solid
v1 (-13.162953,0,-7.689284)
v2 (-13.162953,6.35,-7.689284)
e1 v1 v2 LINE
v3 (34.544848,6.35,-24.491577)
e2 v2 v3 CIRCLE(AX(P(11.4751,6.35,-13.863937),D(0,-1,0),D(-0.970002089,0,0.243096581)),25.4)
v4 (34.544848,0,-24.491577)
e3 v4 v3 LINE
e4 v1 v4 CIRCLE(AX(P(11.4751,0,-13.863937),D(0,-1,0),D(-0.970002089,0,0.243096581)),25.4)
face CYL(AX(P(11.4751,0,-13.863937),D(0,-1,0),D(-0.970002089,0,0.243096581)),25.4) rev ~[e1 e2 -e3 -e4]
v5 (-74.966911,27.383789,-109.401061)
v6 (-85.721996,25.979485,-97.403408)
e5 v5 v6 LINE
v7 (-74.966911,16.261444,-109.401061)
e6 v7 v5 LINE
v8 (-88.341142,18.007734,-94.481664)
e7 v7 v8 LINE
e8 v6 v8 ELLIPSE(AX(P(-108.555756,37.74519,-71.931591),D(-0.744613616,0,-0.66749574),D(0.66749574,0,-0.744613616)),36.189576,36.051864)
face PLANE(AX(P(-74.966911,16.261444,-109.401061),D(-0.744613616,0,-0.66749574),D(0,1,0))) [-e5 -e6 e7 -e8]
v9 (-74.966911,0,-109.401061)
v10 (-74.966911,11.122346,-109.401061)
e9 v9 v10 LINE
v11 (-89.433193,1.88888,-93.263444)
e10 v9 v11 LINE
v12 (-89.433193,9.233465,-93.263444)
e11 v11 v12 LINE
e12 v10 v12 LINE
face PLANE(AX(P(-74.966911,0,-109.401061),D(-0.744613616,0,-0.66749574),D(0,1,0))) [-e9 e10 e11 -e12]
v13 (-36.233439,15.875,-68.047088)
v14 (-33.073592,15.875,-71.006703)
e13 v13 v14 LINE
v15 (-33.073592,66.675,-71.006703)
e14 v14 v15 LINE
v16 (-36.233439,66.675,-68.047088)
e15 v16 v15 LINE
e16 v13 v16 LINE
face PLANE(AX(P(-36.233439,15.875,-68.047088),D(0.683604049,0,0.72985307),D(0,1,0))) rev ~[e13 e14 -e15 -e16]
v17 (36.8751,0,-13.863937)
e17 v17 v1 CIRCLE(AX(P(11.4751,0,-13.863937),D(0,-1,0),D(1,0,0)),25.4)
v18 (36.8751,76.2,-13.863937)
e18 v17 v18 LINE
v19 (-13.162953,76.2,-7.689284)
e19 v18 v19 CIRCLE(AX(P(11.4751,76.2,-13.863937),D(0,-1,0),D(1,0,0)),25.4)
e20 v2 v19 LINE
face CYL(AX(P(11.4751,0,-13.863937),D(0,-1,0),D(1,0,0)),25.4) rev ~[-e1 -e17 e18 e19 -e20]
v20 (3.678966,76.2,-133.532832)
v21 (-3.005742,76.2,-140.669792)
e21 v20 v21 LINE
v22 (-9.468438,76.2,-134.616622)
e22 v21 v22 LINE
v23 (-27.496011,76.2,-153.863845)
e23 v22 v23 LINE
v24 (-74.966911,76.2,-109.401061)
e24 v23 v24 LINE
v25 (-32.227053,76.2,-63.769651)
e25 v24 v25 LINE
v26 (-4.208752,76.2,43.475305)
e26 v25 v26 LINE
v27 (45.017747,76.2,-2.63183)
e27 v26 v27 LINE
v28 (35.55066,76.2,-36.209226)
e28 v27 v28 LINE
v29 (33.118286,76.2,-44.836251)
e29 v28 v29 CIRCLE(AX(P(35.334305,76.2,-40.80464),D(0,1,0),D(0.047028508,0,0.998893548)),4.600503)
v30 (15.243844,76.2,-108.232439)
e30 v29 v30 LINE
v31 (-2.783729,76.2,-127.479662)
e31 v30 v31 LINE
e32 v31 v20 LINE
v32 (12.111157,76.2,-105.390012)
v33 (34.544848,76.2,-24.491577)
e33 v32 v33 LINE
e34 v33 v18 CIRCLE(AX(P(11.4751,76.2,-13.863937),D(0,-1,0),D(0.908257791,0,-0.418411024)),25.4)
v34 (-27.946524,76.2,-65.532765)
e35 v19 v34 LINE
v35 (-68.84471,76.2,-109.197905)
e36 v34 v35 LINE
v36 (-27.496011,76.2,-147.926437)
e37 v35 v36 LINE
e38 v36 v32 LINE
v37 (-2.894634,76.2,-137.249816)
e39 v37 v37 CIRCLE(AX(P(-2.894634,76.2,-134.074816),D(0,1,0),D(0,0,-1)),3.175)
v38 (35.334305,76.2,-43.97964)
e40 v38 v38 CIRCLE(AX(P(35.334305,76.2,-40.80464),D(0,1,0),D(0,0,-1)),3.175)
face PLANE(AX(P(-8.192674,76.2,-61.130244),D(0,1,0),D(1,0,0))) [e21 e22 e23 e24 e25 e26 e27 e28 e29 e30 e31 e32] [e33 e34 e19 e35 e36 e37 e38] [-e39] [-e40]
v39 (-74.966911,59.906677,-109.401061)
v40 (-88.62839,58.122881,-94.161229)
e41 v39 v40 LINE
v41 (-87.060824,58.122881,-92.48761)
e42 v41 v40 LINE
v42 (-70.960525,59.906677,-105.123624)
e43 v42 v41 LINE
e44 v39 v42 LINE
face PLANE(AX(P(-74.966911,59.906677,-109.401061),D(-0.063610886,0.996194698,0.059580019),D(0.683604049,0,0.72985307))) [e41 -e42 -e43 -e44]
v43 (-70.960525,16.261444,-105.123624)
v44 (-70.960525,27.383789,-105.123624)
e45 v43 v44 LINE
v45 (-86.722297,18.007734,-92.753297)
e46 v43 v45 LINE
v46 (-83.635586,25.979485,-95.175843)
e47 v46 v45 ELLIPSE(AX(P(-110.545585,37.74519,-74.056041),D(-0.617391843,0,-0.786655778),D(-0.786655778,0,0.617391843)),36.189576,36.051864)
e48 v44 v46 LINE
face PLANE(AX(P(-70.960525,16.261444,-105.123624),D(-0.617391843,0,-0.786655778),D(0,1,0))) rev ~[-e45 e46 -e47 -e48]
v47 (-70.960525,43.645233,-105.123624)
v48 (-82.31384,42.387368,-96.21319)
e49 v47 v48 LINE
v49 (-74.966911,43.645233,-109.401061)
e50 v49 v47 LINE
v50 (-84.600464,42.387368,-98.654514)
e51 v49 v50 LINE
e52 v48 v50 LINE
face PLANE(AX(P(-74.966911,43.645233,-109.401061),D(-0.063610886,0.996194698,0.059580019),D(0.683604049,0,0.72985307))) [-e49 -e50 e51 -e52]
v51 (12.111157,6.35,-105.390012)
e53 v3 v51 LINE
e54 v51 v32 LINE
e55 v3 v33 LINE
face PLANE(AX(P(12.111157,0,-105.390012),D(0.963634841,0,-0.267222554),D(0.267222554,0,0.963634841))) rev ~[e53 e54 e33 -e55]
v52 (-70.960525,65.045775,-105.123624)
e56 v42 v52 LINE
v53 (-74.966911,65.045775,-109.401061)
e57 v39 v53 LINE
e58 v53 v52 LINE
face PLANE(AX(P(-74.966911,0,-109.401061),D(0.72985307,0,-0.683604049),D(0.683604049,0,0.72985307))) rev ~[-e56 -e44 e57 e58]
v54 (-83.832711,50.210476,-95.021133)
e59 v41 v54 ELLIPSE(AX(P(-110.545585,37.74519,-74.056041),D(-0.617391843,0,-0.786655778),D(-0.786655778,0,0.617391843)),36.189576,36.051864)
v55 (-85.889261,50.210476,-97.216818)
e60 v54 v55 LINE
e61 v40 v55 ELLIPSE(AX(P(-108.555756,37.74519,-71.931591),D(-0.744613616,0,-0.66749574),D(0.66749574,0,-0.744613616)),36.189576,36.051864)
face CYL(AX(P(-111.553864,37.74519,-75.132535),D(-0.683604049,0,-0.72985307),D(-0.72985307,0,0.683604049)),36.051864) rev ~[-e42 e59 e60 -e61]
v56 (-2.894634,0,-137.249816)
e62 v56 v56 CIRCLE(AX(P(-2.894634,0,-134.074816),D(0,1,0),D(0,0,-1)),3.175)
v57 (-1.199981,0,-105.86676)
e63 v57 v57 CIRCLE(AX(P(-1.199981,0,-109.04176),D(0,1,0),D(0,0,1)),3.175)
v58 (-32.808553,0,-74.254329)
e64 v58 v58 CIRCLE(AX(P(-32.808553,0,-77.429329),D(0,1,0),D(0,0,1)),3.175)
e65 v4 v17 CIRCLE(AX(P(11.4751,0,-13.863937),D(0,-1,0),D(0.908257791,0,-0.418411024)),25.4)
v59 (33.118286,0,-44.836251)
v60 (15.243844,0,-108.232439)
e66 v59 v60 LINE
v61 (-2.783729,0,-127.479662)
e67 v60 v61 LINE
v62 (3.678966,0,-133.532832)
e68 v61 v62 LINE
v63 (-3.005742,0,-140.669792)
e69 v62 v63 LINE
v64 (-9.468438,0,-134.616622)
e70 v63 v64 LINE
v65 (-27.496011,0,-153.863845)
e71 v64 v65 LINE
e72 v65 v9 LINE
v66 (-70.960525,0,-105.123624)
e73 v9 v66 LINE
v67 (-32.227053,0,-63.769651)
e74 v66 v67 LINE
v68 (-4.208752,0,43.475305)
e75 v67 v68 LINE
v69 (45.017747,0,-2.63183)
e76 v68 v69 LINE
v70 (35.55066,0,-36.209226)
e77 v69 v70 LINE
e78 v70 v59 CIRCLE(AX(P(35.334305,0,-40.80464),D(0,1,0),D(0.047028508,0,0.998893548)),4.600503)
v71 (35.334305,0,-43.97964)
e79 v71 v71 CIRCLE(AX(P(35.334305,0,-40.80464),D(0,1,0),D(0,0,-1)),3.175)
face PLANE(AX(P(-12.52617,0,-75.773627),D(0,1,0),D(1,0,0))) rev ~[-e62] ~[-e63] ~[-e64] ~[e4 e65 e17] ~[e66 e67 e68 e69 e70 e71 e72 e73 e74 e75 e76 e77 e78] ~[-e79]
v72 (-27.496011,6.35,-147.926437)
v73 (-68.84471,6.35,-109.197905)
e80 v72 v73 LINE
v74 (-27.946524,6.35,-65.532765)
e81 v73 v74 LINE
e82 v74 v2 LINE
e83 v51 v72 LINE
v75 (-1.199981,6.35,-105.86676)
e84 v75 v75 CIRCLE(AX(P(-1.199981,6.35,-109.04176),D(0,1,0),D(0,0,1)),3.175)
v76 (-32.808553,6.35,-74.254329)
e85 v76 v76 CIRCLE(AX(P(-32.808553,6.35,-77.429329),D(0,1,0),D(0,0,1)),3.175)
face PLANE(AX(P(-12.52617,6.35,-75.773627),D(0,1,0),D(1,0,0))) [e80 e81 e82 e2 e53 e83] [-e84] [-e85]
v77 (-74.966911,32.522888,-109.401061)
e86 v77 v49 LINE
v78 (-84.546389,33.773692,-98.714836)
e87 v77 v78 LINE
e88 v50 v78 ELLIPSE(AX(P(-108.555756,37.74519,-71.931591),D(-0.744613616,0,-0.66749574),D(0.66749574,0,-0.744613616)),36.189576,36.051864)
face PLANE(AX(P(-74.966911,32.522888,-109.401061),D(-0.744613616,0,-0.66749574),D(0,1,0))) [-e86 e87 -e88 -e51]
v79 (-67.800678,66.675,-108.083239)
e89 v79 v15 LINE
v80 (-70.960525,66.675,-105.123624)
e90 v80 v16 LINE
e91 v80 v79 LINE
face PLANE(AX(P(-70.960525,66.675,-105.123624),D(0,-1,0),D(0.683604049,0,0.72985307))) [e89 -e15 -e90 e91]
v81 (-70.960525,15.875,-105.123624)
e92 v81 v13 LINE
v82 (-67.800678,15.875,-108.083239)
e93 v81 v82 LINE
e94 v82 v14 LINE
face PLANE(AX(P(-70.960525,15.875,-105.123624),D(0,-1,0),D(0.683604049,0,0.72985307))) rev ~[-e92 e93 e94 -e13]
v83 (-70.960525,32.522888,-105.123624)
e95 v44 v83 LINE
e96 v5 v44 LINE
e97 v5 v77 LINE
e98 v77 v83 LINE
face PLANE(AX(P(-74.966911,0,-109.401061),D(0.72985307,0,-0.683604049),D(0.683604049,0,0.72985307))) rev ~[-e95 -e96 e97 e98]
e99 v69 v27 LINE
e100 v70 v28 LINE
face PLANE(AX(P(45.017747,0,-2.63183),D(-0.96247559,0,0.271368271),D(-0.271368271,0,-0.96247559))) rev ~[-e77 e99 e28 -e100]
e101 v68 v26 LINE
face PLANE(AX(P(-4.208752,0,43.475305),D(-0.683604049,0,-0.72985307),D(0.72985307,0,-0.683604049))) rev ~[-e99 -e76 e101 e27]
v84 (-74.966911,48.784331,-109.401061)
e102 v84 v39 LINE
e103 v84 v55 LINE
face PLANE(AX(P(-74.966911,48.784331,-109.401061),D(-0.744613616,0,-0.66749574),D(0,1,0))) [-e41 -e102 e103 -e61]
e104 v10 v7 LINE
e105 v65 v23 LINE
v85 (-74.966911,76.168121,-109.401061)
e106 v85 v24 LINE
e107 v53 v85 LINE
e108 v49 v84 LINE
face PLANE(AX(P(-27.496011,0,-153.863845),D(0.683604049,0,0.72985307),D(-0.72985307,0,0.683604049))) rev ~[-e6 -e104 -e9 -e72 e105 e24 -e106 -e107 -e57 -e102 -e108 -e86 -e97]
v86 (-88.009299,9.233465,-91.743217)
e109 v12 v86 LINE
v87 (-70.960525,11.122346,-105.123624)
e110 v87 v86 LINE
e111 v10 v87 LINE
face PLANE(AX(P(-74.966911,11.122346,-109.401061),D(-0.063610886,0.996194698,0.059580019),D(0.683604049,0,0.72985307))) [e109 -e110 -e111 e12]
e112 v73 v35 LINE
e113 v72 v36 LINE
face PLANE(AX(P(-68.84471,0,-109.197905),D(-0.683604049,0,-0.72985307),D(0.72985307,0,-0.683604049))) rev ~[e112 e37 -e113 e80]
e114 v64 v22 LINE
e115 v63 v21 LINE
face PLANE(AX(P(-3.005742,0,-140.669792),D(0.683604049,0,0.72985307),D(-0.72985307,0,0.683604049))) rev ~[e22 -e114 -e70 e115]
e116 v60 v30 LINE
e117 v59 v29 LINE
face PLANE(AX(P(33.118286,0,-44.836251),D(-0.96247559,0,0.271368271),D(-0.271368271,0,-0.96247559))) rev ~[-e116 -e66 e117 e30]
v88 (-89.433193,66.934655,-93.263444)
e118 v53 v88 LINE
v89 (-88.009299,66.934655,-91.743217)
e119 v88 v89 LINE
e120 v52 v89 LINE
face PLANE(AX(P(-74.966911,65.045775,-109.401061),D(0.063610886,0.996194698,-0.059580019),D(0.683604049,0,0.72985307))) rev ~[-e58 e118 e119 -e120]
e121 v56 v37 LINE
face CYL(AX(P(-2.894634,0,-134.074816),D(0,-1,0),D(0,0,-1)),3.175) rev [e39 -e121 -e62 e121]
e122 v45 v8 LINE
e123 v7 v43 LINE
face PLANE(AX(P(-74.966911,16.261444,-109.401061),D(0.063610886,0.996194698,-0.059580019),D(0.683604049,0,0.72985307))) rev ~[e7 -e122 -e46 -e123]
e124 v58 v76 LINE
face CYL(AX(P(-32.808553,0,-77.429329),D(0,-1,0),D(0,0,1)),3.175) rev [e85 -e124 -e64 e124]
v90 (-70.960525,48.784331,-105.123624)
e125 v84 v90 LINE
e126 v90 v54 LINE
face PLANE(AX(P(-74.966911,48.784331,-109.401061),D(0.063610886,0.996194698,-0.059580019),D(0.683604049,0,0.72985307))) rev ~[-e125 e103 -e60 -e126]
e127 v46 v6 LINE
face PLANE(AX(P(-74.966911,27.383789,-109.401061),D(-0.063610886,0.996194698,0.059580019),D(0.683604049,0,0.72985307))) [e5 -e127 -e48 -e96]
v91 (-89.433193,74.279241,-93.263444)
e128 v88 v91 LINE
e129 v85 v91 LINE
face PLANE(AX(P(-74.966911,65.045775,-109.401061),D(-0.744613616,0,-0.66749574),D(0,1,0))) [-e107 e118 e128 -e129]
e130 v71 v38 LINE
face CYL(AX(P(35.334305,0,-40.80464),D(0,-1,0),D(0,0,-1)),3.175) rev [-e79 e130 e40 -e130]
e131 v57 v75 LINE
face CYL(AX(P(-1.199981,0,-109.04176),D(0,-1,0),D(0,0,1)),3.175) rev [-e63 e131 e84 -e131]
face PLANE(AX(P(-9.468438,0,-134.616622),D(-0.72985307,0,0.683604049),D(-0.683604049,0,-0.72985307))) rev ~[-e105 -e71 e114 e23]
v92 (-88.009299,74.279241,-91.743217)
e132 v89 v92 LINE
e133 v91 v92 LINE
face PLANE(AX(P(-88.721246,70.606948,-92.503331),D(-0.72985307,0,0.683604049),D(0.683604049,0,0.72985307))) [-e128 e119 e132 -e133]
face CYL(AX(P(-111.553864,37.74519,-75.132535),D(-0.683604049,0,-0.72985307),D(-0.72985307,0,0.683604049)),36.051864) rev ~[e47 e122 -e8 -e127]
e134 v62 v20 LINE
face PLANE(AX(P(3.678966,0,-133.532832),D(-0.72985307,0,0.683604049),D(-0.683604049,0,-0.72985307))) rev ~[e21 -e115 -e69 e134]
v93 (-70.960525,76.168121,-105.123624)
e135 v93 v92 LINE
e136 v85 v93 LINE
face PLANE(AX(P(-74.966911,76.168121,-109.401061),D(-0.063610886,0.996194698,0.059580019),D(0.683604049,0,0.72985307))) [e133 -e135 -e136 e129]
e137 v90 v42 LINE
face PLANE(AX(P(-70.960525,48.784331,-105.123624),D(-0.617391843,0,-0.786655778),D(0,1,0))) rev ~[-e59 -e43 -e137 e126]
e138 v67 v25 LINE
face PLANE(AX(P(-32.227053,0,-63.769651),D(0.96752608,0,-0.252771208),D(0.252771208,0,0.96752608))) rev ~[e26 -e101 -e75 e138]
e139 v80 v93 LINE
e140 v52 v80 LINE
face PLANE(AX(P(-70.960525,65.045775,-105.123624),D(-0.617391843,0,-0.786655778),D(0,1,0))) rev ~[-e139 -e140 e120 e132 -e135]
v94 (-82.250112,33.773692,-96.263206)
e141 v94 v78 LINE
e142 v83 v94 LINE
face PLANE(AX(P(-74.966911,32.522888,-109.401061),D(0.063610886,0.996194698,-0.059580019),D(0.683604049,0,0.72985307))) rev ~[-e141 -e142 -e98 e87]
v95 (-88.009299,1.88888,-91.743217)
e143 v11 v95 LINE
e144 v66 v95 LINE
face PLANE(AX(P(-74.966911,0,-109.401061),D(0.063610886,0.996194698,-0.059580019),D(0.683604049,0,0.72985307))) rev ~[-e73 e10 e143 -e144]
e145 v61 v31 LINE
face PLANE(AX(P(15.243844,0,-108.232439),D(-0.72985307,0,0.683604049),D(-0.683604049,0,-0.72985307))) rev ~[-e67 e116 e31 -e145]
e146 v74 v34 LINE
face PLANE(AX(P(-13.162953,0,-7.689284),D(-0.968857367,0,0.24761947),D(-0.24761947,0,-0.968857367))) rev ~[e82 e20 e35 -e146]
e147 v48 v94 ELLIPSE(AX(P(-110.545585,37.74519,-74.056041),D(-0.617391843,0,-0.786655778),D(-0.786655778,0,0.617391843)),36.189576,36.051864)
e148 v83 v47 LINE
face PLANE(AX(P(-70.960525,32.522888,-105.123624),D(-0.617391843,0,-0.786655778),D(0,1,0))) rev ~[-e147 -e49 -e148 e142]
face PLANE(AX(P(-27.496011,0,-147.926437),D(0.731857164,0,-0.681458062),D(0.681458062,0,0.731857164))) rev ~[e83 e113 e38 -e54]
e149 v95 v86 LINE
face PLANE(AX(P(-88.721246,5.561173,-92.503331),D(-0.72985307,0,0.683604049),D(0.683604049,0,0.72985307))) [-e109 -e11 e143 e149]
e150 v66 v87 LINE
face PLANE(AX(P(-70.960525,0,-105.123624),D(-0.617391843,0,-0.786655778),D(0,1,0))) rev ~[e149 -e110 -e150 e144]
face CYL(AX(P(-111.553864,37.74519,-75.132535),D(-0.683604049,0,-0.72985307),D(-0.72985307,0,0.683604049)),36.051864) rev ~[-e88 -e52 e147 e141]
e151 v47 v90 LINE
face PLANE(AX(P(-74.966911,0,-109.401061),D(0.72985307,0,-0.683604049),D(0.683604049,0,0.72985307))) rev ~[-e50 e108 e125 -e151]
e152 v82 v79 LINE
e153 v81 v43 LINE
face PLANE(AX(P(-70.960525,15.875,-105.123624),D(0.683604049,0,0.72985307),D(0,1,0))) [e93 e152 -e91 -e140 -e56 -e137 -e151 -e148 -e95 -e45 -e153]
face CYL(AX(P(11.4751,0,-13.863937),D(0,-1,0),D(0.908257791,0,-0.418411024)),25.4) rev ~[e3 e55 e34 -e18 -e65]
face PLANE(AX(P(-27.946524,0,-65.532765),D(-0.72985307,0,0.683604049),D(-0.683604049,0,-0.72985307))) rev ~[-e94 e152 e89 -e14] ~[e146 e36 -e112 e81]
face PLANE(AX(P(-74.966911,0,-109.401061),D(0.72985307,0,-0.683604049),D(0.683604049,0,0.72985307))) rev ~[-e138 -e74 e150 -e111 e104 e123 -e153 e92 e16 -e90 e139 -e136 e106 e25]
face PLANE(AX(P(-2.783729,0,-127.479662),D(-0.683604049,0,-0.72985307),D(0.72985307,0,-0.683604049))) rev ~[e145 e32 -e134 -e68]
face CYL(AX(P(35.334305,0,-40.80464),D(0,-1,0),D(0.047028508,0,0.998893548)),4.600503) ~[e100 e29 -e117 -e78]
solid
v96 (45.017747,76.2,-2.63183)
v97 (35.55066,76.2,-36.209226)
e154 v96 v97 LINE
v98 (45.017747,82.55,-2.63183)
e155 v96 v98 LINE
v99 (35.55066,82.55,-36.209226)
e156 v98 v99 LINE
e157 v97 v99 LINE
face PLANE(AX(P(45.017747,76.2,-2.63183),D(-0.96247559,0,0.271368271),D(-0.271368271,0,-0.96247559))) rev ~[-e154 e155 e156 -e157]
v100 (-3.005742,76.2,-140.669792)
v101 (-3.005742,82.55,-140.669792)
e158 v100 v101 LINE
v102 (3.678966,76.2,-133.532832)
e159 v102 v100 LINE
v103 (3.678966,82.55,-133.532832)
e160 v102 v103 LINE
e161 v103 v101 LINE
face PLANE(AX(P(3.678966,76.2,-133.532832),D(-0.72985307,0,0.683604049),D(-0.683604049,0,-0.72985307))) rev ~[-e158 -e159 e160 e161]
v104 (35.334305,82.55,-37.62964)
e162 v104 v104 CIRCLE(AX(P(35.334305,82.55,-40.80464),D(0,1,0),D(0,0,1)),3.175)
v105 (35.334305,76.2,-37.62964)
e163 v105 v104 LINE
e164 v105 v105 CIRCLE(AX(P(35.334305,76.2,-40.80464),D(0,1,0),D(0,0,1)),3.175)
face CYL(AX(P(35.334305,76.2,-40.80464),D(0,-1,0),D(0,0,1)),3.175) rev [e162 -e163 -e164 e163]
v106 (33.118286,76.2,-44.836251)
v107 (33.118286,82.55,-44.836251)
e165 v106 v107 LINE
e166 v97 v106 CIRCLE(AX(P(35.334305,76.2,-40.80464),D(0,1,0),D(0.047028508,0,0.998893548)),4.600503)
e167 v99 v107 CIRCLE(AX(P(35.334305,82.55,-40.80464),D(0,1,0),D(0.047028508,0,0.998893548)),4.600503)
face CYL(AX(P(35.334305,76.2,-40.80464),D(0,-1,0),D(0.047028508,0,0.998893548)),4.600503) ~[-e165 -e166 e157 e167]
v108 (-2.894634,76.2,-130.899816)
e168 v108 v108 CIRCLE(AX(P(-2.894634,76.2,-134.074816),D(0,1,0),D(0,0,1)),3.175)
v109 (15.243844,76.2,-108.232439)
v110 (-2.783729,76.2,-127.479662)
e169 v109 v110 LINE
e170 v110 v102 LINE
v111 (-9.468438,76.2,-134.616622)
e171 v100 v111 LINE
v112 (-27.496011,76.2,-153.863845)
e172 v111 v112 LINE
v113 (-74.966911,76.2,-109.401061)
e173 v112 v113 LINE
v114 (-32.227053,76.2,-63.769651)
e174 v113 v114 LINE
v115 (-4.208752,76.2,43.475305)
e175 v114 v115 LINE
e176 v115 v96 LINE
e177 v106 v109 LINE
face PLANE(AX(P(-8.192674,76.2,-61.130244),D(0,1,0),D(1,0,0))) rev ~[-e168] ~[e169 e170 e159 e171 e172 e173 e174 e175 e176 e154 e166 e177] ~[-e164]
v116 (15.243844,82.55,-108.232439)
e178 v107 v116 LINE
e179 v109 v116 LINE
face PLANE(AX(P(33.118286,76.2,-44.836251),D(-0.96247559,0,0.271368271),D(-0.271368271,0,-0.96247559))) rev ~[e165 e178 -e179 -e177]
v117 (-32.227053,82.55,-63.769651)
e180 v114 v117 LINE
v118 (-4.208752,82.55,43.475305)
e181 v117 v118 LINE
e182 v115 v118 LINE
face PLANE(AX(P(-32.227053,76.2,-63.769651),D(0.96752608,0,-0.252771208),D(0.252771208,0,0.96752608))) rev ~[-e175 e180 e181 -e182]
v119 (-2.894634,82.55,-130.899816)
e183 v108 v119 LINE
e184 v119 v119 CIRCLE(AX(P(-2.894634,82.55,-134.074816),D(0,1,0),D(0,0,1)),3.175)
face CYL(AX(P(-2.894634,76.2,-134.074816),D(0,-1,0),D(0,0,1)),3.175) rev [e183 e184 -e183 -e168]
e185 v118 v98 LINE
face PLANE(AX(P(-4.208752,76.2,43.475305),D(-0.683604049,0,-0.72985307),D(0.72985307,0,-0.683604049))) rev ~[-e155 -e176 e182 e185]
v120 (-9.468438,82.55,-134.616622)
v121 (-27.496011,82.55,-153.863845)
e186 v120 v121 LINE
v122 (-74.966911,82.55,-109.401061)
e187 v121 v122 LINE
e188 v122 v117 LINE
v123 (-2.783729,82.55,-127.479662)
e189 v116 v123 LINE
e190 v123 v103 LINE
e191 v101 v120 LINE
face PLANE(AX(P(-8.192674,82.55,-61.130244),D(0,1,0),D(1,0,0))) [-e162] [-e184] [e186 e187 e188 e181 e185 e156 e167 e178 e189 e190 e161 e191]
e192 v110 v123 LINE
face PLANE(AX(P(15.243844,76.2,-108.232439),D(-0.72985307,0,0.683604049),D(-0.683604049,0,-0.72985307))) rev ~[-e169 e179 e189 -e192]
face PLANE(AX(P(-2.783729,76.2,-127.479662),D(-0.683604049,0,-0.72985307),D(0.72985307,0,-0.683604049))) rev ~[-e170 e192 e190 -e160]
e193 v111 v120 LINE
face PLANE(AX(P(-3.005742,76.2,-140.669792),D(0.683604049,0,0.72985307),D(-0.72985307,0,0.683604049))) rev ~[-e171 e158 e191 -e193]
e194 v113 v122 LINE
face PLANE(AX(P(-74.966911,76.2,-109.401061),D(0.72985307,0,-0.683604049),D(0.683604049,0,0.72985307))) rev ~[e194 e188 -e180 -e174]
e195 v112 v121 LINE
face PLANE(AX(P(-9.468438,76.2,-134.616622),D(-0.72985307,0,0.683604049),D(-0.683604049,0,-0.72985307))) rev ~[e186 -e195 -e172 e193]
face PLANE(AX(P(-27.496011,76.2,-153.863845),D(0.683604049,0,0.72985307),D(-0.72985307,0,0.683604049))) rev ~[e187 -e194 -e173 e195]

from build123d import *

# Parameters (mm, degrees)
SKETCH1_R                     = 3.175
BOSS_EXTRUDE2_DEPTH           = 76.2
SKETCH1_5_R                   = 3.175
BOSS_EXTRUDE3_DEPTH           = 6.35
SKETCH5_R                     = 3.175
BOSS_EXTRUDE4_DEPTH           = 6.35
SKETCH6_W                     = 50.8
SKETCH6_H                     = 50.8
CUT_EXTRUDE1_DEPTH            = 21.59
SKETCH7_W                     = 5.86068256
SKETCH7_H                     = 11.122345704
BOSS_EXTRUDE5_DEPTH           = 21.59
BOSS_EXTRUDE5_DRAFT           = 5
BOSS_EXTRUDE5_PROFILE_2_DEPTH = 21.59
BOSS_EXTRUDE5_PROFILE_2_DRAFT = 5
BOSS_EXTRUDE5_PROFILE_3_DEPTH = 21.59
BOSS_EXTRUDE5_PROFILE_3_DRAFT = 5
SKETCH7_H_2                   = 11.122345705
BOSS_EXTRUDE5_PROFILE_4_DEPTH = 21.59
BOSS_EXTRUDE5_PROFILE_4_DRAFT = 5
BOSS_EXTRUDE5_PROFILE_5_DEPTH = 21.59
BOSS_EXTRUDE5_PROFILE_5_DRAFT = 5
SKETCH10_R                    = 36.051864109
CUT_EXTRUDE2_DEPTH            = 21.59


with BuildPart() as part:
    # Sketch1 → Boss-Extrude2 (new body)
    with BuildSketch(Plane(origin=(0, 0, 0), x_dir=(1, 0, 0), z_dir=(0, 1, 0))):
        with BuildLine():
            Line((-4.208751998, -43.475305064), (45.017746951, 2.631829887))
            Line((45.017746951, 2.631829887), (35.550660053, 36.209226482))
            ThreePointArc((35.550660053, 36.209226482), (39.762177432, 42.05307025), (33.11828595, 44.83625091))
            Line((33.11828595, 44.83625091), (15.243844224, 108.232438689))
            Line((15.243844224, 108.232438689), (-2.783728935, 127.479661752))
            Line((-2.783728935, 127.479661752), (3.678966496, 133.532831827))
            Line((3.678966496, 133.532831827), (-3.005742225, 140.669792455))
            Line((-3.005742225, 140.669792455), (-9.468437655, 134.61662238))
            Line((-9.468437655, 134.61662238), (-27.496010814, 153.863845442))
            Line((-27.496010814, 153.863845442), (-74.966911398, 109.401060841))
            Line((-74.966911398, 109.401060841), (-32.227053049, 63.769650553))
            Line((-32.227053049, 63.769650553), (-4.208751998, -43.475305064))
        make_face()
        with Locations((35.334305242, 40.804639607)):
            Circle(SKETCH1_R, mode=Mode.SUBTRACT)
        with BuildLine():
            Line((-27.946524097, 65.532765046), (-68.844709626, 109.197904706))
            Line((-68.844709626, 109.197904706), (-27.496010814, 147.926436632))
            Line((-27.496010814, 147.926436632), (12.111157264, 105.390011693))
            Line((12.111157264, 105.390011693), (34.544848217, 24.491577435))
            ThreePointArc((34.544848217, 24.491577435), (36.285698832, 19.303992732), (36.875100326, 13.863937421))
            ThreePointArc((36.875100326, 13.863937421), (14.585843996, -11.34485616), (-13.162952731, 7.689284266))
            Line((-13.162952731, 7.689284266), (-27.946524097, 65.532765046))
        make_face(mode=Mode.SUBTRACT)
        with Locations((-2.894634056, 134.074815557)):
            Circle(SKETCH1_R, mode=Mode.SUBTRACT)
    extrude(amount=BOSS_EXTRUDE2_DEPTH)

    # Sketch1<5> → Boss-Extrude3 (add)
    with BuildSketch(Plane(origin=(0, 0, 0), x_dir=(1, 0, 0), z_dir=(0, 1, 0))):
        with BuildLine():
            Line((-27.496010814, 147.926436632), (-68.844709626, 109.197904706))
            Line((-68.844709626, 109.197904706), (-27.946524097, 65.532765046))
            Line((-27.946524097, 65.532765046), (-13.162952731, 7.689284266))
            ThreePointArc((-13.162952731, 7.689284266), (3.03743719, 37.821521623), (34.544848217, 24.491577435))
            Line((34.544848217, 24.491577435), (12.111157264, 105.390011693))
            Line((12.111157264, 105.390011693), (-27.496010814, 147.926436632))
        make_face()
        with Locations((-32.808552916, 77.429328599)):
            Circle(SKETCH1_5_R, mode=Mode.SUBTRACT)
        with Locations((-1.199981142, 109.041759799)):
            Circle(SKETCH1_5_R, mode=Mode.SUBTRACT)
    extrude(amount=BOSS_EXTRUDE3_DEPTH)

    # Sketch6 → Cut-Extrude1 (cut)
    with BuildSketch(Plane(origin=(14.64974053, 0, -13.721421958), x_dir=(0.683604049055853, 0, 0.729853070223345), z_dir=(-0.729853070223345, 0, 0.683604049055853))):
        with Locations((-99.833701757, 41.275)):
            Rectangle(SKETCH6_W, SKETCH6_H)
    extrude(amount=-CUT_EXTRUDE1_DEPTH, mode=Mode.SUBTRACT)


with BuildPart() as body_2:
    # Sketch5 → Boss-Extrude4 (new body)
    with BuildSketch(Plane(origin=(0, 76.2, 0), x_dir=(1, 0, 0), z_dir=(0, 1, 0))):
        with BuildLine():
            Line((45.017746951, 2.631829887), (35.550660053, 36.209226482))
            ThreePointArc((35.550660053, 36.209226482), (39.762177432, 42.05307025), (33.11828595, 44.83625091))
            Line((33.11828595, 44.83625091), (15.243844224, 108.232438689))
            Line((15.243844224, 108.232438689), (-2.783728935, 127.479661752))
            Line((-2.783728935, 127.479661752), (3.678966496, 133.532831827))
            Line((3.678966496, 133.532831827), (-3.005742225, 140.669792455))
            Line((-3.005742225, 140.669792455), (-9.468437655, 134.61662238))
            Line((-9.468437655, 134.61662238), (-27.496010814, 153.863845442))
            Line((-27.496010814, 153.863845442), (-74.966911398, 109.401060841))
            Line((-74.966911398, 109.401060841), (-32.227053049, 63.769650553))
            Line((-32.227053049, 63.769650553), (-4.208751998, -43.475305064))
            Line((-4.208751998, -43.475305064), (45.017746951, 2.631829887))
        make_face()
        with Locations((-2.894634056, 134.074815557)):
            Circle(SKETCH5_R, mode=Mode.SUBTRACT)
        with Locations((35.334305242, 40.804639607)):
            Circle(SKETCH5_R, mode=Mode.SUBTRACT)
    extrude(amount=BOSS_EXTRUDE4_DEPTH)


with BuildPart() as boss_extrude5_tool:
    # Sketch7 → Boss-Extrude5 (with draft: the straight prism first)
    with BuildSketch(Plane(origin=(14.64974053, 0, -13.721421958), x_dir=(0.683604049055853, 0, 0.729853070223345), z_dir=(-0.729853070223345, 0, 0.683604049055853))):
        with Locations((-128.164043037, 70.606947953)):
            Rectangle(SKETCH7_W, SKETCH7_H)
    extrude(amount=BOSS_EXTRUDE5_DEPTH)
    # Boss-Extrude5: the draft: its side faces are tilted about the plane it starts from
    boss_extrude5_sides = [boss_extrude5_tool.faces().sort_by_distance(p)[0] for p in [
        (-82.845675291, 70.606947953, -102.021555132),
        (-80.842482126, 65.045775101, -99.882836552),
        (-78.839288962, 70.606947953, -97.744117972),
        (-80.842482126, 76.168120805, -99.882836552),
    ]]
    draft(boss_extrude5_sides, Plane(origin=(14.64974053, 0, -13.721421958), x_dir=(0.683604049055853, 0, 0.729853070223345), z_dir=(-0.729853070223345, 0, 0.683604049055853)), BOSS_EXTRUDE5_DRAFT)


with BuildPart() as part_1:
    add(part.part)

    # Boss-Extrude5: add boss_extrude5_tool
    add(boss_extrude5_tool.part)


with BuildPart() as boss_extrude5_profile_2_tool:
    # Sketch7 → Boss-Extrude5 profile 2 (with draft: the straight prism first)
    with BuildSketch(Plane(origin=(14.64974053, 0, -13.721421958), x_dir=(0.683604049055853, 0, 0.729853070223345), z_dir=(-0.729853070223345, 0, 0.683604049055853))):
        with Locations((-128.164043037, 54.345504178)):
            Rectangle(SKETCH7_W, SKETCH7_H)
    extrude(amount=BOSS_EXTRUDE5_PROFILE_2_DEPTH)
    # Boss-Extrude5 profile 2: the draft: its side faces are tilted about the plane it starts from
    boss_extrude5_profile_2_sides = [boss_extrude5_profile_2_tool.faces().sort_by_distance(p)[0] for p in [
        (-80.842482126, 48.784331326, -99.882836552),
        (-78.839288962, 54.345504178, -97.744117972),
        (-80.842482126, 59.90667703, -99.882836552),
        (-82.845675291, 54.345504178, -102.021555132),
    ]]
    draft(boss_extrude5_profile_2_sides, Plane(origin=(14.64974053, 0, -13.721421958), x_dir=(0.683604049055853, 0, 0.729853070223345), z_dir=(-0.729853070223345, 0, 0.683604049055853)), BOSS_EXTRUDE5_PROFILE_2_DRAFT)


with BuildPart() as part_2:
    add(part_1.part)

    # Boss-Extrude5 profile 2: add boss_extrude5_profile_2_tool
    add(boss_extrude5_profile_2_tool.part)


with BuildPart() as boss_extrude5_profile_3_tool:
    # Sketch7 → Boss-Extrude5 profile 3 (with draft: the straight prism first)
    with BuildSketch(Plane(origin=(14.64974053, 0, -13.721421958), x_dir=(0.683604049055853, 0, 0.729853070223345), z_dir=(-0.729853070223345, 0, 0.683604049055853))):
        with Locations((-128.164043037, 38.084060403)):
            Rectangle(SKETCH7_W, SKETCH7_H)
    extrude(amount=BOSS_EXTRUDE5_PROFILE_3_DEPTH)
    # Boss-Extrude5 profile 3: the draft: its side faces are tilted about the plane it starts from
    boss_extrude5_profile_3_sides = [boss_extrude5_profile_3_tool.faces().sort_by_distance(p)[0] for p in [
        (-80.842482126, 32.522887551, -99.882836552),
        (-78.839288962, 38.084060403, -97.744117972),
        (-80.842482126, 43.645233255, -99.882836552),
        (-82.845675291, 38.084060403, -102.021555132),
    ]]
    draft(boss_extrude5_profile_3_sides, Plane(origin=(14.64974053, 0, -13.721421958), x_dir=(0.683604049055853, 0, 0.729853070223345), z_dir=(-0.729853070223345, 0, 0.683604049055853)), BOSS_EXTRUDE5_PROFILE_3_DRAFT)


with BuildPart() as part_3:
    add(part_2.part)

    # Boss-Extrude5 profile 3: add boss_extrude5_profile_3_tool
    add(boss_extrude5_profile_3_tool.part)


with BuildPart() as boss_extrude5_profile_4_tool:
    # Sketch7 → Boss-Extrude5 profile 4 (with draft: the straight prism first)
    with BuildSketch(Plane(origin=(14.64974053, 0, -13.721421958), x_dir=(0.683604049055853, 0, 0.729853070223345), z_dir=(-0.729853070223345, 0, 0.683604049055853))):
        with Locations((-128.164043037, 21.822616628)):
            Rectangle(SKETCH7_W, SKETCH7_H_2)
    extrude(amount=BOSS_EXTRUDE5_PROFILE_4_DEPTH)
    # Boss-Extrude5 profile 4: the draft: its side faces are tilted about the plane it starts from
    boss_extrude5_profile_4_sides = [boss_extrude5_profile_4_tool.faces().sort_by_distance(p)[0] for p in [
        (-80.842482126, 16.261443775, -99.882836552),
        (-78.839288962, 21.822616627, -97.744117972),
        (-80.842482126, 27.38378948, -99.882836552),
        (-82.845675291, 21.822616627, -102.021555132),
    ]]
    draft(boss_extrude5_profile_4_sides, Plane(origin=(14.64974053, 0, -13.721421958), x_dir=(0.683604049055853, 0, 0.729853070223345), z_dir=(-0.729853070223345, 0, 0.683604049055853)), BOSS_EXTRUDE5_PROFILE_4_DRAFT)


with BuildPart() as part_4:
    add(part_3.part)

    # Boss-Extrude5 profile 4: add boss_extrude5_profile_4_tool
    add(boss_extrude5_profile_4_tool.part)


with BuildPart() as boss_extrude5_profile_5_tool:
    # Sketch7 → Boss-Extrude5 profile 5 (with draft: the straight prism first)
    with BuildSketch(Plane(origin=(14.64974053, 0, -13.721421958), x_dir=(0.683604049055853, 0, 0.729853070223345), z_dir=(-0.729853070223345, 0, 0.683604049055853))):
        with Locations((-128.164043037, 5.561172852)):
            Rectangle(SKETCH7_W, SKETCH7_H)
    extrude(amount=BOSS_EXTRUDE5_PROFILE_5_DEPTH)
    # Boss-Extrude5 profile 5: the draft: its side faces are tilted about the plane it starts from
    boss_extrude5_profile_5_sides = [boss_extrude5_profile_5_tool.faces().sort_by_distance(p)[0] for p in [
        (-80.842482126, 0, -99.882836552),
        (-78.839288962, 5.561172852, -97.744117972),
        (-80.842482126, 11.122345704, -99.882836552),
        (-82.845675291, 5.561172852, -102.021555132),
    ]]
    draft(boss_extrude5_profile_5_sides, Plane(origin=(14.64974053, 0, -13.721421958), x_dir=(0.683604049055853, 0, 0.729853070223345), z_dir=(-0.729853070223345, 0, 0.683604049055853)), BOSS_EXTRUDE5_PROFILE_5_DRAFT)


with BuildPart() as part_5:
    add(part_4.part)

    # Boss-Extrude5 profile 5: add boss_extrude5_profile_5_tool
    add(boss_extrude5_profile_5_tool.part)

    # Sketch10 → Cut-Extrude2 (cut)
    with BuildSketch(Plane(origin=(-89.616651928, 0, -95.679638883), x_dir=(-0.7298530702233451, 0, 0.683604049055853), z_dir=(-0.683604049055853, 0, -0.7298530702233451))):
        with Locations((30.057024975, 37.74518963)):
            Circle(SKETCH10_R)
    extrude(amount=-CUT_EXTRUDE2_DEPTH, mode=Mode.SUBTRACT)


solid = Compound([body_2.part, part_5.part])
